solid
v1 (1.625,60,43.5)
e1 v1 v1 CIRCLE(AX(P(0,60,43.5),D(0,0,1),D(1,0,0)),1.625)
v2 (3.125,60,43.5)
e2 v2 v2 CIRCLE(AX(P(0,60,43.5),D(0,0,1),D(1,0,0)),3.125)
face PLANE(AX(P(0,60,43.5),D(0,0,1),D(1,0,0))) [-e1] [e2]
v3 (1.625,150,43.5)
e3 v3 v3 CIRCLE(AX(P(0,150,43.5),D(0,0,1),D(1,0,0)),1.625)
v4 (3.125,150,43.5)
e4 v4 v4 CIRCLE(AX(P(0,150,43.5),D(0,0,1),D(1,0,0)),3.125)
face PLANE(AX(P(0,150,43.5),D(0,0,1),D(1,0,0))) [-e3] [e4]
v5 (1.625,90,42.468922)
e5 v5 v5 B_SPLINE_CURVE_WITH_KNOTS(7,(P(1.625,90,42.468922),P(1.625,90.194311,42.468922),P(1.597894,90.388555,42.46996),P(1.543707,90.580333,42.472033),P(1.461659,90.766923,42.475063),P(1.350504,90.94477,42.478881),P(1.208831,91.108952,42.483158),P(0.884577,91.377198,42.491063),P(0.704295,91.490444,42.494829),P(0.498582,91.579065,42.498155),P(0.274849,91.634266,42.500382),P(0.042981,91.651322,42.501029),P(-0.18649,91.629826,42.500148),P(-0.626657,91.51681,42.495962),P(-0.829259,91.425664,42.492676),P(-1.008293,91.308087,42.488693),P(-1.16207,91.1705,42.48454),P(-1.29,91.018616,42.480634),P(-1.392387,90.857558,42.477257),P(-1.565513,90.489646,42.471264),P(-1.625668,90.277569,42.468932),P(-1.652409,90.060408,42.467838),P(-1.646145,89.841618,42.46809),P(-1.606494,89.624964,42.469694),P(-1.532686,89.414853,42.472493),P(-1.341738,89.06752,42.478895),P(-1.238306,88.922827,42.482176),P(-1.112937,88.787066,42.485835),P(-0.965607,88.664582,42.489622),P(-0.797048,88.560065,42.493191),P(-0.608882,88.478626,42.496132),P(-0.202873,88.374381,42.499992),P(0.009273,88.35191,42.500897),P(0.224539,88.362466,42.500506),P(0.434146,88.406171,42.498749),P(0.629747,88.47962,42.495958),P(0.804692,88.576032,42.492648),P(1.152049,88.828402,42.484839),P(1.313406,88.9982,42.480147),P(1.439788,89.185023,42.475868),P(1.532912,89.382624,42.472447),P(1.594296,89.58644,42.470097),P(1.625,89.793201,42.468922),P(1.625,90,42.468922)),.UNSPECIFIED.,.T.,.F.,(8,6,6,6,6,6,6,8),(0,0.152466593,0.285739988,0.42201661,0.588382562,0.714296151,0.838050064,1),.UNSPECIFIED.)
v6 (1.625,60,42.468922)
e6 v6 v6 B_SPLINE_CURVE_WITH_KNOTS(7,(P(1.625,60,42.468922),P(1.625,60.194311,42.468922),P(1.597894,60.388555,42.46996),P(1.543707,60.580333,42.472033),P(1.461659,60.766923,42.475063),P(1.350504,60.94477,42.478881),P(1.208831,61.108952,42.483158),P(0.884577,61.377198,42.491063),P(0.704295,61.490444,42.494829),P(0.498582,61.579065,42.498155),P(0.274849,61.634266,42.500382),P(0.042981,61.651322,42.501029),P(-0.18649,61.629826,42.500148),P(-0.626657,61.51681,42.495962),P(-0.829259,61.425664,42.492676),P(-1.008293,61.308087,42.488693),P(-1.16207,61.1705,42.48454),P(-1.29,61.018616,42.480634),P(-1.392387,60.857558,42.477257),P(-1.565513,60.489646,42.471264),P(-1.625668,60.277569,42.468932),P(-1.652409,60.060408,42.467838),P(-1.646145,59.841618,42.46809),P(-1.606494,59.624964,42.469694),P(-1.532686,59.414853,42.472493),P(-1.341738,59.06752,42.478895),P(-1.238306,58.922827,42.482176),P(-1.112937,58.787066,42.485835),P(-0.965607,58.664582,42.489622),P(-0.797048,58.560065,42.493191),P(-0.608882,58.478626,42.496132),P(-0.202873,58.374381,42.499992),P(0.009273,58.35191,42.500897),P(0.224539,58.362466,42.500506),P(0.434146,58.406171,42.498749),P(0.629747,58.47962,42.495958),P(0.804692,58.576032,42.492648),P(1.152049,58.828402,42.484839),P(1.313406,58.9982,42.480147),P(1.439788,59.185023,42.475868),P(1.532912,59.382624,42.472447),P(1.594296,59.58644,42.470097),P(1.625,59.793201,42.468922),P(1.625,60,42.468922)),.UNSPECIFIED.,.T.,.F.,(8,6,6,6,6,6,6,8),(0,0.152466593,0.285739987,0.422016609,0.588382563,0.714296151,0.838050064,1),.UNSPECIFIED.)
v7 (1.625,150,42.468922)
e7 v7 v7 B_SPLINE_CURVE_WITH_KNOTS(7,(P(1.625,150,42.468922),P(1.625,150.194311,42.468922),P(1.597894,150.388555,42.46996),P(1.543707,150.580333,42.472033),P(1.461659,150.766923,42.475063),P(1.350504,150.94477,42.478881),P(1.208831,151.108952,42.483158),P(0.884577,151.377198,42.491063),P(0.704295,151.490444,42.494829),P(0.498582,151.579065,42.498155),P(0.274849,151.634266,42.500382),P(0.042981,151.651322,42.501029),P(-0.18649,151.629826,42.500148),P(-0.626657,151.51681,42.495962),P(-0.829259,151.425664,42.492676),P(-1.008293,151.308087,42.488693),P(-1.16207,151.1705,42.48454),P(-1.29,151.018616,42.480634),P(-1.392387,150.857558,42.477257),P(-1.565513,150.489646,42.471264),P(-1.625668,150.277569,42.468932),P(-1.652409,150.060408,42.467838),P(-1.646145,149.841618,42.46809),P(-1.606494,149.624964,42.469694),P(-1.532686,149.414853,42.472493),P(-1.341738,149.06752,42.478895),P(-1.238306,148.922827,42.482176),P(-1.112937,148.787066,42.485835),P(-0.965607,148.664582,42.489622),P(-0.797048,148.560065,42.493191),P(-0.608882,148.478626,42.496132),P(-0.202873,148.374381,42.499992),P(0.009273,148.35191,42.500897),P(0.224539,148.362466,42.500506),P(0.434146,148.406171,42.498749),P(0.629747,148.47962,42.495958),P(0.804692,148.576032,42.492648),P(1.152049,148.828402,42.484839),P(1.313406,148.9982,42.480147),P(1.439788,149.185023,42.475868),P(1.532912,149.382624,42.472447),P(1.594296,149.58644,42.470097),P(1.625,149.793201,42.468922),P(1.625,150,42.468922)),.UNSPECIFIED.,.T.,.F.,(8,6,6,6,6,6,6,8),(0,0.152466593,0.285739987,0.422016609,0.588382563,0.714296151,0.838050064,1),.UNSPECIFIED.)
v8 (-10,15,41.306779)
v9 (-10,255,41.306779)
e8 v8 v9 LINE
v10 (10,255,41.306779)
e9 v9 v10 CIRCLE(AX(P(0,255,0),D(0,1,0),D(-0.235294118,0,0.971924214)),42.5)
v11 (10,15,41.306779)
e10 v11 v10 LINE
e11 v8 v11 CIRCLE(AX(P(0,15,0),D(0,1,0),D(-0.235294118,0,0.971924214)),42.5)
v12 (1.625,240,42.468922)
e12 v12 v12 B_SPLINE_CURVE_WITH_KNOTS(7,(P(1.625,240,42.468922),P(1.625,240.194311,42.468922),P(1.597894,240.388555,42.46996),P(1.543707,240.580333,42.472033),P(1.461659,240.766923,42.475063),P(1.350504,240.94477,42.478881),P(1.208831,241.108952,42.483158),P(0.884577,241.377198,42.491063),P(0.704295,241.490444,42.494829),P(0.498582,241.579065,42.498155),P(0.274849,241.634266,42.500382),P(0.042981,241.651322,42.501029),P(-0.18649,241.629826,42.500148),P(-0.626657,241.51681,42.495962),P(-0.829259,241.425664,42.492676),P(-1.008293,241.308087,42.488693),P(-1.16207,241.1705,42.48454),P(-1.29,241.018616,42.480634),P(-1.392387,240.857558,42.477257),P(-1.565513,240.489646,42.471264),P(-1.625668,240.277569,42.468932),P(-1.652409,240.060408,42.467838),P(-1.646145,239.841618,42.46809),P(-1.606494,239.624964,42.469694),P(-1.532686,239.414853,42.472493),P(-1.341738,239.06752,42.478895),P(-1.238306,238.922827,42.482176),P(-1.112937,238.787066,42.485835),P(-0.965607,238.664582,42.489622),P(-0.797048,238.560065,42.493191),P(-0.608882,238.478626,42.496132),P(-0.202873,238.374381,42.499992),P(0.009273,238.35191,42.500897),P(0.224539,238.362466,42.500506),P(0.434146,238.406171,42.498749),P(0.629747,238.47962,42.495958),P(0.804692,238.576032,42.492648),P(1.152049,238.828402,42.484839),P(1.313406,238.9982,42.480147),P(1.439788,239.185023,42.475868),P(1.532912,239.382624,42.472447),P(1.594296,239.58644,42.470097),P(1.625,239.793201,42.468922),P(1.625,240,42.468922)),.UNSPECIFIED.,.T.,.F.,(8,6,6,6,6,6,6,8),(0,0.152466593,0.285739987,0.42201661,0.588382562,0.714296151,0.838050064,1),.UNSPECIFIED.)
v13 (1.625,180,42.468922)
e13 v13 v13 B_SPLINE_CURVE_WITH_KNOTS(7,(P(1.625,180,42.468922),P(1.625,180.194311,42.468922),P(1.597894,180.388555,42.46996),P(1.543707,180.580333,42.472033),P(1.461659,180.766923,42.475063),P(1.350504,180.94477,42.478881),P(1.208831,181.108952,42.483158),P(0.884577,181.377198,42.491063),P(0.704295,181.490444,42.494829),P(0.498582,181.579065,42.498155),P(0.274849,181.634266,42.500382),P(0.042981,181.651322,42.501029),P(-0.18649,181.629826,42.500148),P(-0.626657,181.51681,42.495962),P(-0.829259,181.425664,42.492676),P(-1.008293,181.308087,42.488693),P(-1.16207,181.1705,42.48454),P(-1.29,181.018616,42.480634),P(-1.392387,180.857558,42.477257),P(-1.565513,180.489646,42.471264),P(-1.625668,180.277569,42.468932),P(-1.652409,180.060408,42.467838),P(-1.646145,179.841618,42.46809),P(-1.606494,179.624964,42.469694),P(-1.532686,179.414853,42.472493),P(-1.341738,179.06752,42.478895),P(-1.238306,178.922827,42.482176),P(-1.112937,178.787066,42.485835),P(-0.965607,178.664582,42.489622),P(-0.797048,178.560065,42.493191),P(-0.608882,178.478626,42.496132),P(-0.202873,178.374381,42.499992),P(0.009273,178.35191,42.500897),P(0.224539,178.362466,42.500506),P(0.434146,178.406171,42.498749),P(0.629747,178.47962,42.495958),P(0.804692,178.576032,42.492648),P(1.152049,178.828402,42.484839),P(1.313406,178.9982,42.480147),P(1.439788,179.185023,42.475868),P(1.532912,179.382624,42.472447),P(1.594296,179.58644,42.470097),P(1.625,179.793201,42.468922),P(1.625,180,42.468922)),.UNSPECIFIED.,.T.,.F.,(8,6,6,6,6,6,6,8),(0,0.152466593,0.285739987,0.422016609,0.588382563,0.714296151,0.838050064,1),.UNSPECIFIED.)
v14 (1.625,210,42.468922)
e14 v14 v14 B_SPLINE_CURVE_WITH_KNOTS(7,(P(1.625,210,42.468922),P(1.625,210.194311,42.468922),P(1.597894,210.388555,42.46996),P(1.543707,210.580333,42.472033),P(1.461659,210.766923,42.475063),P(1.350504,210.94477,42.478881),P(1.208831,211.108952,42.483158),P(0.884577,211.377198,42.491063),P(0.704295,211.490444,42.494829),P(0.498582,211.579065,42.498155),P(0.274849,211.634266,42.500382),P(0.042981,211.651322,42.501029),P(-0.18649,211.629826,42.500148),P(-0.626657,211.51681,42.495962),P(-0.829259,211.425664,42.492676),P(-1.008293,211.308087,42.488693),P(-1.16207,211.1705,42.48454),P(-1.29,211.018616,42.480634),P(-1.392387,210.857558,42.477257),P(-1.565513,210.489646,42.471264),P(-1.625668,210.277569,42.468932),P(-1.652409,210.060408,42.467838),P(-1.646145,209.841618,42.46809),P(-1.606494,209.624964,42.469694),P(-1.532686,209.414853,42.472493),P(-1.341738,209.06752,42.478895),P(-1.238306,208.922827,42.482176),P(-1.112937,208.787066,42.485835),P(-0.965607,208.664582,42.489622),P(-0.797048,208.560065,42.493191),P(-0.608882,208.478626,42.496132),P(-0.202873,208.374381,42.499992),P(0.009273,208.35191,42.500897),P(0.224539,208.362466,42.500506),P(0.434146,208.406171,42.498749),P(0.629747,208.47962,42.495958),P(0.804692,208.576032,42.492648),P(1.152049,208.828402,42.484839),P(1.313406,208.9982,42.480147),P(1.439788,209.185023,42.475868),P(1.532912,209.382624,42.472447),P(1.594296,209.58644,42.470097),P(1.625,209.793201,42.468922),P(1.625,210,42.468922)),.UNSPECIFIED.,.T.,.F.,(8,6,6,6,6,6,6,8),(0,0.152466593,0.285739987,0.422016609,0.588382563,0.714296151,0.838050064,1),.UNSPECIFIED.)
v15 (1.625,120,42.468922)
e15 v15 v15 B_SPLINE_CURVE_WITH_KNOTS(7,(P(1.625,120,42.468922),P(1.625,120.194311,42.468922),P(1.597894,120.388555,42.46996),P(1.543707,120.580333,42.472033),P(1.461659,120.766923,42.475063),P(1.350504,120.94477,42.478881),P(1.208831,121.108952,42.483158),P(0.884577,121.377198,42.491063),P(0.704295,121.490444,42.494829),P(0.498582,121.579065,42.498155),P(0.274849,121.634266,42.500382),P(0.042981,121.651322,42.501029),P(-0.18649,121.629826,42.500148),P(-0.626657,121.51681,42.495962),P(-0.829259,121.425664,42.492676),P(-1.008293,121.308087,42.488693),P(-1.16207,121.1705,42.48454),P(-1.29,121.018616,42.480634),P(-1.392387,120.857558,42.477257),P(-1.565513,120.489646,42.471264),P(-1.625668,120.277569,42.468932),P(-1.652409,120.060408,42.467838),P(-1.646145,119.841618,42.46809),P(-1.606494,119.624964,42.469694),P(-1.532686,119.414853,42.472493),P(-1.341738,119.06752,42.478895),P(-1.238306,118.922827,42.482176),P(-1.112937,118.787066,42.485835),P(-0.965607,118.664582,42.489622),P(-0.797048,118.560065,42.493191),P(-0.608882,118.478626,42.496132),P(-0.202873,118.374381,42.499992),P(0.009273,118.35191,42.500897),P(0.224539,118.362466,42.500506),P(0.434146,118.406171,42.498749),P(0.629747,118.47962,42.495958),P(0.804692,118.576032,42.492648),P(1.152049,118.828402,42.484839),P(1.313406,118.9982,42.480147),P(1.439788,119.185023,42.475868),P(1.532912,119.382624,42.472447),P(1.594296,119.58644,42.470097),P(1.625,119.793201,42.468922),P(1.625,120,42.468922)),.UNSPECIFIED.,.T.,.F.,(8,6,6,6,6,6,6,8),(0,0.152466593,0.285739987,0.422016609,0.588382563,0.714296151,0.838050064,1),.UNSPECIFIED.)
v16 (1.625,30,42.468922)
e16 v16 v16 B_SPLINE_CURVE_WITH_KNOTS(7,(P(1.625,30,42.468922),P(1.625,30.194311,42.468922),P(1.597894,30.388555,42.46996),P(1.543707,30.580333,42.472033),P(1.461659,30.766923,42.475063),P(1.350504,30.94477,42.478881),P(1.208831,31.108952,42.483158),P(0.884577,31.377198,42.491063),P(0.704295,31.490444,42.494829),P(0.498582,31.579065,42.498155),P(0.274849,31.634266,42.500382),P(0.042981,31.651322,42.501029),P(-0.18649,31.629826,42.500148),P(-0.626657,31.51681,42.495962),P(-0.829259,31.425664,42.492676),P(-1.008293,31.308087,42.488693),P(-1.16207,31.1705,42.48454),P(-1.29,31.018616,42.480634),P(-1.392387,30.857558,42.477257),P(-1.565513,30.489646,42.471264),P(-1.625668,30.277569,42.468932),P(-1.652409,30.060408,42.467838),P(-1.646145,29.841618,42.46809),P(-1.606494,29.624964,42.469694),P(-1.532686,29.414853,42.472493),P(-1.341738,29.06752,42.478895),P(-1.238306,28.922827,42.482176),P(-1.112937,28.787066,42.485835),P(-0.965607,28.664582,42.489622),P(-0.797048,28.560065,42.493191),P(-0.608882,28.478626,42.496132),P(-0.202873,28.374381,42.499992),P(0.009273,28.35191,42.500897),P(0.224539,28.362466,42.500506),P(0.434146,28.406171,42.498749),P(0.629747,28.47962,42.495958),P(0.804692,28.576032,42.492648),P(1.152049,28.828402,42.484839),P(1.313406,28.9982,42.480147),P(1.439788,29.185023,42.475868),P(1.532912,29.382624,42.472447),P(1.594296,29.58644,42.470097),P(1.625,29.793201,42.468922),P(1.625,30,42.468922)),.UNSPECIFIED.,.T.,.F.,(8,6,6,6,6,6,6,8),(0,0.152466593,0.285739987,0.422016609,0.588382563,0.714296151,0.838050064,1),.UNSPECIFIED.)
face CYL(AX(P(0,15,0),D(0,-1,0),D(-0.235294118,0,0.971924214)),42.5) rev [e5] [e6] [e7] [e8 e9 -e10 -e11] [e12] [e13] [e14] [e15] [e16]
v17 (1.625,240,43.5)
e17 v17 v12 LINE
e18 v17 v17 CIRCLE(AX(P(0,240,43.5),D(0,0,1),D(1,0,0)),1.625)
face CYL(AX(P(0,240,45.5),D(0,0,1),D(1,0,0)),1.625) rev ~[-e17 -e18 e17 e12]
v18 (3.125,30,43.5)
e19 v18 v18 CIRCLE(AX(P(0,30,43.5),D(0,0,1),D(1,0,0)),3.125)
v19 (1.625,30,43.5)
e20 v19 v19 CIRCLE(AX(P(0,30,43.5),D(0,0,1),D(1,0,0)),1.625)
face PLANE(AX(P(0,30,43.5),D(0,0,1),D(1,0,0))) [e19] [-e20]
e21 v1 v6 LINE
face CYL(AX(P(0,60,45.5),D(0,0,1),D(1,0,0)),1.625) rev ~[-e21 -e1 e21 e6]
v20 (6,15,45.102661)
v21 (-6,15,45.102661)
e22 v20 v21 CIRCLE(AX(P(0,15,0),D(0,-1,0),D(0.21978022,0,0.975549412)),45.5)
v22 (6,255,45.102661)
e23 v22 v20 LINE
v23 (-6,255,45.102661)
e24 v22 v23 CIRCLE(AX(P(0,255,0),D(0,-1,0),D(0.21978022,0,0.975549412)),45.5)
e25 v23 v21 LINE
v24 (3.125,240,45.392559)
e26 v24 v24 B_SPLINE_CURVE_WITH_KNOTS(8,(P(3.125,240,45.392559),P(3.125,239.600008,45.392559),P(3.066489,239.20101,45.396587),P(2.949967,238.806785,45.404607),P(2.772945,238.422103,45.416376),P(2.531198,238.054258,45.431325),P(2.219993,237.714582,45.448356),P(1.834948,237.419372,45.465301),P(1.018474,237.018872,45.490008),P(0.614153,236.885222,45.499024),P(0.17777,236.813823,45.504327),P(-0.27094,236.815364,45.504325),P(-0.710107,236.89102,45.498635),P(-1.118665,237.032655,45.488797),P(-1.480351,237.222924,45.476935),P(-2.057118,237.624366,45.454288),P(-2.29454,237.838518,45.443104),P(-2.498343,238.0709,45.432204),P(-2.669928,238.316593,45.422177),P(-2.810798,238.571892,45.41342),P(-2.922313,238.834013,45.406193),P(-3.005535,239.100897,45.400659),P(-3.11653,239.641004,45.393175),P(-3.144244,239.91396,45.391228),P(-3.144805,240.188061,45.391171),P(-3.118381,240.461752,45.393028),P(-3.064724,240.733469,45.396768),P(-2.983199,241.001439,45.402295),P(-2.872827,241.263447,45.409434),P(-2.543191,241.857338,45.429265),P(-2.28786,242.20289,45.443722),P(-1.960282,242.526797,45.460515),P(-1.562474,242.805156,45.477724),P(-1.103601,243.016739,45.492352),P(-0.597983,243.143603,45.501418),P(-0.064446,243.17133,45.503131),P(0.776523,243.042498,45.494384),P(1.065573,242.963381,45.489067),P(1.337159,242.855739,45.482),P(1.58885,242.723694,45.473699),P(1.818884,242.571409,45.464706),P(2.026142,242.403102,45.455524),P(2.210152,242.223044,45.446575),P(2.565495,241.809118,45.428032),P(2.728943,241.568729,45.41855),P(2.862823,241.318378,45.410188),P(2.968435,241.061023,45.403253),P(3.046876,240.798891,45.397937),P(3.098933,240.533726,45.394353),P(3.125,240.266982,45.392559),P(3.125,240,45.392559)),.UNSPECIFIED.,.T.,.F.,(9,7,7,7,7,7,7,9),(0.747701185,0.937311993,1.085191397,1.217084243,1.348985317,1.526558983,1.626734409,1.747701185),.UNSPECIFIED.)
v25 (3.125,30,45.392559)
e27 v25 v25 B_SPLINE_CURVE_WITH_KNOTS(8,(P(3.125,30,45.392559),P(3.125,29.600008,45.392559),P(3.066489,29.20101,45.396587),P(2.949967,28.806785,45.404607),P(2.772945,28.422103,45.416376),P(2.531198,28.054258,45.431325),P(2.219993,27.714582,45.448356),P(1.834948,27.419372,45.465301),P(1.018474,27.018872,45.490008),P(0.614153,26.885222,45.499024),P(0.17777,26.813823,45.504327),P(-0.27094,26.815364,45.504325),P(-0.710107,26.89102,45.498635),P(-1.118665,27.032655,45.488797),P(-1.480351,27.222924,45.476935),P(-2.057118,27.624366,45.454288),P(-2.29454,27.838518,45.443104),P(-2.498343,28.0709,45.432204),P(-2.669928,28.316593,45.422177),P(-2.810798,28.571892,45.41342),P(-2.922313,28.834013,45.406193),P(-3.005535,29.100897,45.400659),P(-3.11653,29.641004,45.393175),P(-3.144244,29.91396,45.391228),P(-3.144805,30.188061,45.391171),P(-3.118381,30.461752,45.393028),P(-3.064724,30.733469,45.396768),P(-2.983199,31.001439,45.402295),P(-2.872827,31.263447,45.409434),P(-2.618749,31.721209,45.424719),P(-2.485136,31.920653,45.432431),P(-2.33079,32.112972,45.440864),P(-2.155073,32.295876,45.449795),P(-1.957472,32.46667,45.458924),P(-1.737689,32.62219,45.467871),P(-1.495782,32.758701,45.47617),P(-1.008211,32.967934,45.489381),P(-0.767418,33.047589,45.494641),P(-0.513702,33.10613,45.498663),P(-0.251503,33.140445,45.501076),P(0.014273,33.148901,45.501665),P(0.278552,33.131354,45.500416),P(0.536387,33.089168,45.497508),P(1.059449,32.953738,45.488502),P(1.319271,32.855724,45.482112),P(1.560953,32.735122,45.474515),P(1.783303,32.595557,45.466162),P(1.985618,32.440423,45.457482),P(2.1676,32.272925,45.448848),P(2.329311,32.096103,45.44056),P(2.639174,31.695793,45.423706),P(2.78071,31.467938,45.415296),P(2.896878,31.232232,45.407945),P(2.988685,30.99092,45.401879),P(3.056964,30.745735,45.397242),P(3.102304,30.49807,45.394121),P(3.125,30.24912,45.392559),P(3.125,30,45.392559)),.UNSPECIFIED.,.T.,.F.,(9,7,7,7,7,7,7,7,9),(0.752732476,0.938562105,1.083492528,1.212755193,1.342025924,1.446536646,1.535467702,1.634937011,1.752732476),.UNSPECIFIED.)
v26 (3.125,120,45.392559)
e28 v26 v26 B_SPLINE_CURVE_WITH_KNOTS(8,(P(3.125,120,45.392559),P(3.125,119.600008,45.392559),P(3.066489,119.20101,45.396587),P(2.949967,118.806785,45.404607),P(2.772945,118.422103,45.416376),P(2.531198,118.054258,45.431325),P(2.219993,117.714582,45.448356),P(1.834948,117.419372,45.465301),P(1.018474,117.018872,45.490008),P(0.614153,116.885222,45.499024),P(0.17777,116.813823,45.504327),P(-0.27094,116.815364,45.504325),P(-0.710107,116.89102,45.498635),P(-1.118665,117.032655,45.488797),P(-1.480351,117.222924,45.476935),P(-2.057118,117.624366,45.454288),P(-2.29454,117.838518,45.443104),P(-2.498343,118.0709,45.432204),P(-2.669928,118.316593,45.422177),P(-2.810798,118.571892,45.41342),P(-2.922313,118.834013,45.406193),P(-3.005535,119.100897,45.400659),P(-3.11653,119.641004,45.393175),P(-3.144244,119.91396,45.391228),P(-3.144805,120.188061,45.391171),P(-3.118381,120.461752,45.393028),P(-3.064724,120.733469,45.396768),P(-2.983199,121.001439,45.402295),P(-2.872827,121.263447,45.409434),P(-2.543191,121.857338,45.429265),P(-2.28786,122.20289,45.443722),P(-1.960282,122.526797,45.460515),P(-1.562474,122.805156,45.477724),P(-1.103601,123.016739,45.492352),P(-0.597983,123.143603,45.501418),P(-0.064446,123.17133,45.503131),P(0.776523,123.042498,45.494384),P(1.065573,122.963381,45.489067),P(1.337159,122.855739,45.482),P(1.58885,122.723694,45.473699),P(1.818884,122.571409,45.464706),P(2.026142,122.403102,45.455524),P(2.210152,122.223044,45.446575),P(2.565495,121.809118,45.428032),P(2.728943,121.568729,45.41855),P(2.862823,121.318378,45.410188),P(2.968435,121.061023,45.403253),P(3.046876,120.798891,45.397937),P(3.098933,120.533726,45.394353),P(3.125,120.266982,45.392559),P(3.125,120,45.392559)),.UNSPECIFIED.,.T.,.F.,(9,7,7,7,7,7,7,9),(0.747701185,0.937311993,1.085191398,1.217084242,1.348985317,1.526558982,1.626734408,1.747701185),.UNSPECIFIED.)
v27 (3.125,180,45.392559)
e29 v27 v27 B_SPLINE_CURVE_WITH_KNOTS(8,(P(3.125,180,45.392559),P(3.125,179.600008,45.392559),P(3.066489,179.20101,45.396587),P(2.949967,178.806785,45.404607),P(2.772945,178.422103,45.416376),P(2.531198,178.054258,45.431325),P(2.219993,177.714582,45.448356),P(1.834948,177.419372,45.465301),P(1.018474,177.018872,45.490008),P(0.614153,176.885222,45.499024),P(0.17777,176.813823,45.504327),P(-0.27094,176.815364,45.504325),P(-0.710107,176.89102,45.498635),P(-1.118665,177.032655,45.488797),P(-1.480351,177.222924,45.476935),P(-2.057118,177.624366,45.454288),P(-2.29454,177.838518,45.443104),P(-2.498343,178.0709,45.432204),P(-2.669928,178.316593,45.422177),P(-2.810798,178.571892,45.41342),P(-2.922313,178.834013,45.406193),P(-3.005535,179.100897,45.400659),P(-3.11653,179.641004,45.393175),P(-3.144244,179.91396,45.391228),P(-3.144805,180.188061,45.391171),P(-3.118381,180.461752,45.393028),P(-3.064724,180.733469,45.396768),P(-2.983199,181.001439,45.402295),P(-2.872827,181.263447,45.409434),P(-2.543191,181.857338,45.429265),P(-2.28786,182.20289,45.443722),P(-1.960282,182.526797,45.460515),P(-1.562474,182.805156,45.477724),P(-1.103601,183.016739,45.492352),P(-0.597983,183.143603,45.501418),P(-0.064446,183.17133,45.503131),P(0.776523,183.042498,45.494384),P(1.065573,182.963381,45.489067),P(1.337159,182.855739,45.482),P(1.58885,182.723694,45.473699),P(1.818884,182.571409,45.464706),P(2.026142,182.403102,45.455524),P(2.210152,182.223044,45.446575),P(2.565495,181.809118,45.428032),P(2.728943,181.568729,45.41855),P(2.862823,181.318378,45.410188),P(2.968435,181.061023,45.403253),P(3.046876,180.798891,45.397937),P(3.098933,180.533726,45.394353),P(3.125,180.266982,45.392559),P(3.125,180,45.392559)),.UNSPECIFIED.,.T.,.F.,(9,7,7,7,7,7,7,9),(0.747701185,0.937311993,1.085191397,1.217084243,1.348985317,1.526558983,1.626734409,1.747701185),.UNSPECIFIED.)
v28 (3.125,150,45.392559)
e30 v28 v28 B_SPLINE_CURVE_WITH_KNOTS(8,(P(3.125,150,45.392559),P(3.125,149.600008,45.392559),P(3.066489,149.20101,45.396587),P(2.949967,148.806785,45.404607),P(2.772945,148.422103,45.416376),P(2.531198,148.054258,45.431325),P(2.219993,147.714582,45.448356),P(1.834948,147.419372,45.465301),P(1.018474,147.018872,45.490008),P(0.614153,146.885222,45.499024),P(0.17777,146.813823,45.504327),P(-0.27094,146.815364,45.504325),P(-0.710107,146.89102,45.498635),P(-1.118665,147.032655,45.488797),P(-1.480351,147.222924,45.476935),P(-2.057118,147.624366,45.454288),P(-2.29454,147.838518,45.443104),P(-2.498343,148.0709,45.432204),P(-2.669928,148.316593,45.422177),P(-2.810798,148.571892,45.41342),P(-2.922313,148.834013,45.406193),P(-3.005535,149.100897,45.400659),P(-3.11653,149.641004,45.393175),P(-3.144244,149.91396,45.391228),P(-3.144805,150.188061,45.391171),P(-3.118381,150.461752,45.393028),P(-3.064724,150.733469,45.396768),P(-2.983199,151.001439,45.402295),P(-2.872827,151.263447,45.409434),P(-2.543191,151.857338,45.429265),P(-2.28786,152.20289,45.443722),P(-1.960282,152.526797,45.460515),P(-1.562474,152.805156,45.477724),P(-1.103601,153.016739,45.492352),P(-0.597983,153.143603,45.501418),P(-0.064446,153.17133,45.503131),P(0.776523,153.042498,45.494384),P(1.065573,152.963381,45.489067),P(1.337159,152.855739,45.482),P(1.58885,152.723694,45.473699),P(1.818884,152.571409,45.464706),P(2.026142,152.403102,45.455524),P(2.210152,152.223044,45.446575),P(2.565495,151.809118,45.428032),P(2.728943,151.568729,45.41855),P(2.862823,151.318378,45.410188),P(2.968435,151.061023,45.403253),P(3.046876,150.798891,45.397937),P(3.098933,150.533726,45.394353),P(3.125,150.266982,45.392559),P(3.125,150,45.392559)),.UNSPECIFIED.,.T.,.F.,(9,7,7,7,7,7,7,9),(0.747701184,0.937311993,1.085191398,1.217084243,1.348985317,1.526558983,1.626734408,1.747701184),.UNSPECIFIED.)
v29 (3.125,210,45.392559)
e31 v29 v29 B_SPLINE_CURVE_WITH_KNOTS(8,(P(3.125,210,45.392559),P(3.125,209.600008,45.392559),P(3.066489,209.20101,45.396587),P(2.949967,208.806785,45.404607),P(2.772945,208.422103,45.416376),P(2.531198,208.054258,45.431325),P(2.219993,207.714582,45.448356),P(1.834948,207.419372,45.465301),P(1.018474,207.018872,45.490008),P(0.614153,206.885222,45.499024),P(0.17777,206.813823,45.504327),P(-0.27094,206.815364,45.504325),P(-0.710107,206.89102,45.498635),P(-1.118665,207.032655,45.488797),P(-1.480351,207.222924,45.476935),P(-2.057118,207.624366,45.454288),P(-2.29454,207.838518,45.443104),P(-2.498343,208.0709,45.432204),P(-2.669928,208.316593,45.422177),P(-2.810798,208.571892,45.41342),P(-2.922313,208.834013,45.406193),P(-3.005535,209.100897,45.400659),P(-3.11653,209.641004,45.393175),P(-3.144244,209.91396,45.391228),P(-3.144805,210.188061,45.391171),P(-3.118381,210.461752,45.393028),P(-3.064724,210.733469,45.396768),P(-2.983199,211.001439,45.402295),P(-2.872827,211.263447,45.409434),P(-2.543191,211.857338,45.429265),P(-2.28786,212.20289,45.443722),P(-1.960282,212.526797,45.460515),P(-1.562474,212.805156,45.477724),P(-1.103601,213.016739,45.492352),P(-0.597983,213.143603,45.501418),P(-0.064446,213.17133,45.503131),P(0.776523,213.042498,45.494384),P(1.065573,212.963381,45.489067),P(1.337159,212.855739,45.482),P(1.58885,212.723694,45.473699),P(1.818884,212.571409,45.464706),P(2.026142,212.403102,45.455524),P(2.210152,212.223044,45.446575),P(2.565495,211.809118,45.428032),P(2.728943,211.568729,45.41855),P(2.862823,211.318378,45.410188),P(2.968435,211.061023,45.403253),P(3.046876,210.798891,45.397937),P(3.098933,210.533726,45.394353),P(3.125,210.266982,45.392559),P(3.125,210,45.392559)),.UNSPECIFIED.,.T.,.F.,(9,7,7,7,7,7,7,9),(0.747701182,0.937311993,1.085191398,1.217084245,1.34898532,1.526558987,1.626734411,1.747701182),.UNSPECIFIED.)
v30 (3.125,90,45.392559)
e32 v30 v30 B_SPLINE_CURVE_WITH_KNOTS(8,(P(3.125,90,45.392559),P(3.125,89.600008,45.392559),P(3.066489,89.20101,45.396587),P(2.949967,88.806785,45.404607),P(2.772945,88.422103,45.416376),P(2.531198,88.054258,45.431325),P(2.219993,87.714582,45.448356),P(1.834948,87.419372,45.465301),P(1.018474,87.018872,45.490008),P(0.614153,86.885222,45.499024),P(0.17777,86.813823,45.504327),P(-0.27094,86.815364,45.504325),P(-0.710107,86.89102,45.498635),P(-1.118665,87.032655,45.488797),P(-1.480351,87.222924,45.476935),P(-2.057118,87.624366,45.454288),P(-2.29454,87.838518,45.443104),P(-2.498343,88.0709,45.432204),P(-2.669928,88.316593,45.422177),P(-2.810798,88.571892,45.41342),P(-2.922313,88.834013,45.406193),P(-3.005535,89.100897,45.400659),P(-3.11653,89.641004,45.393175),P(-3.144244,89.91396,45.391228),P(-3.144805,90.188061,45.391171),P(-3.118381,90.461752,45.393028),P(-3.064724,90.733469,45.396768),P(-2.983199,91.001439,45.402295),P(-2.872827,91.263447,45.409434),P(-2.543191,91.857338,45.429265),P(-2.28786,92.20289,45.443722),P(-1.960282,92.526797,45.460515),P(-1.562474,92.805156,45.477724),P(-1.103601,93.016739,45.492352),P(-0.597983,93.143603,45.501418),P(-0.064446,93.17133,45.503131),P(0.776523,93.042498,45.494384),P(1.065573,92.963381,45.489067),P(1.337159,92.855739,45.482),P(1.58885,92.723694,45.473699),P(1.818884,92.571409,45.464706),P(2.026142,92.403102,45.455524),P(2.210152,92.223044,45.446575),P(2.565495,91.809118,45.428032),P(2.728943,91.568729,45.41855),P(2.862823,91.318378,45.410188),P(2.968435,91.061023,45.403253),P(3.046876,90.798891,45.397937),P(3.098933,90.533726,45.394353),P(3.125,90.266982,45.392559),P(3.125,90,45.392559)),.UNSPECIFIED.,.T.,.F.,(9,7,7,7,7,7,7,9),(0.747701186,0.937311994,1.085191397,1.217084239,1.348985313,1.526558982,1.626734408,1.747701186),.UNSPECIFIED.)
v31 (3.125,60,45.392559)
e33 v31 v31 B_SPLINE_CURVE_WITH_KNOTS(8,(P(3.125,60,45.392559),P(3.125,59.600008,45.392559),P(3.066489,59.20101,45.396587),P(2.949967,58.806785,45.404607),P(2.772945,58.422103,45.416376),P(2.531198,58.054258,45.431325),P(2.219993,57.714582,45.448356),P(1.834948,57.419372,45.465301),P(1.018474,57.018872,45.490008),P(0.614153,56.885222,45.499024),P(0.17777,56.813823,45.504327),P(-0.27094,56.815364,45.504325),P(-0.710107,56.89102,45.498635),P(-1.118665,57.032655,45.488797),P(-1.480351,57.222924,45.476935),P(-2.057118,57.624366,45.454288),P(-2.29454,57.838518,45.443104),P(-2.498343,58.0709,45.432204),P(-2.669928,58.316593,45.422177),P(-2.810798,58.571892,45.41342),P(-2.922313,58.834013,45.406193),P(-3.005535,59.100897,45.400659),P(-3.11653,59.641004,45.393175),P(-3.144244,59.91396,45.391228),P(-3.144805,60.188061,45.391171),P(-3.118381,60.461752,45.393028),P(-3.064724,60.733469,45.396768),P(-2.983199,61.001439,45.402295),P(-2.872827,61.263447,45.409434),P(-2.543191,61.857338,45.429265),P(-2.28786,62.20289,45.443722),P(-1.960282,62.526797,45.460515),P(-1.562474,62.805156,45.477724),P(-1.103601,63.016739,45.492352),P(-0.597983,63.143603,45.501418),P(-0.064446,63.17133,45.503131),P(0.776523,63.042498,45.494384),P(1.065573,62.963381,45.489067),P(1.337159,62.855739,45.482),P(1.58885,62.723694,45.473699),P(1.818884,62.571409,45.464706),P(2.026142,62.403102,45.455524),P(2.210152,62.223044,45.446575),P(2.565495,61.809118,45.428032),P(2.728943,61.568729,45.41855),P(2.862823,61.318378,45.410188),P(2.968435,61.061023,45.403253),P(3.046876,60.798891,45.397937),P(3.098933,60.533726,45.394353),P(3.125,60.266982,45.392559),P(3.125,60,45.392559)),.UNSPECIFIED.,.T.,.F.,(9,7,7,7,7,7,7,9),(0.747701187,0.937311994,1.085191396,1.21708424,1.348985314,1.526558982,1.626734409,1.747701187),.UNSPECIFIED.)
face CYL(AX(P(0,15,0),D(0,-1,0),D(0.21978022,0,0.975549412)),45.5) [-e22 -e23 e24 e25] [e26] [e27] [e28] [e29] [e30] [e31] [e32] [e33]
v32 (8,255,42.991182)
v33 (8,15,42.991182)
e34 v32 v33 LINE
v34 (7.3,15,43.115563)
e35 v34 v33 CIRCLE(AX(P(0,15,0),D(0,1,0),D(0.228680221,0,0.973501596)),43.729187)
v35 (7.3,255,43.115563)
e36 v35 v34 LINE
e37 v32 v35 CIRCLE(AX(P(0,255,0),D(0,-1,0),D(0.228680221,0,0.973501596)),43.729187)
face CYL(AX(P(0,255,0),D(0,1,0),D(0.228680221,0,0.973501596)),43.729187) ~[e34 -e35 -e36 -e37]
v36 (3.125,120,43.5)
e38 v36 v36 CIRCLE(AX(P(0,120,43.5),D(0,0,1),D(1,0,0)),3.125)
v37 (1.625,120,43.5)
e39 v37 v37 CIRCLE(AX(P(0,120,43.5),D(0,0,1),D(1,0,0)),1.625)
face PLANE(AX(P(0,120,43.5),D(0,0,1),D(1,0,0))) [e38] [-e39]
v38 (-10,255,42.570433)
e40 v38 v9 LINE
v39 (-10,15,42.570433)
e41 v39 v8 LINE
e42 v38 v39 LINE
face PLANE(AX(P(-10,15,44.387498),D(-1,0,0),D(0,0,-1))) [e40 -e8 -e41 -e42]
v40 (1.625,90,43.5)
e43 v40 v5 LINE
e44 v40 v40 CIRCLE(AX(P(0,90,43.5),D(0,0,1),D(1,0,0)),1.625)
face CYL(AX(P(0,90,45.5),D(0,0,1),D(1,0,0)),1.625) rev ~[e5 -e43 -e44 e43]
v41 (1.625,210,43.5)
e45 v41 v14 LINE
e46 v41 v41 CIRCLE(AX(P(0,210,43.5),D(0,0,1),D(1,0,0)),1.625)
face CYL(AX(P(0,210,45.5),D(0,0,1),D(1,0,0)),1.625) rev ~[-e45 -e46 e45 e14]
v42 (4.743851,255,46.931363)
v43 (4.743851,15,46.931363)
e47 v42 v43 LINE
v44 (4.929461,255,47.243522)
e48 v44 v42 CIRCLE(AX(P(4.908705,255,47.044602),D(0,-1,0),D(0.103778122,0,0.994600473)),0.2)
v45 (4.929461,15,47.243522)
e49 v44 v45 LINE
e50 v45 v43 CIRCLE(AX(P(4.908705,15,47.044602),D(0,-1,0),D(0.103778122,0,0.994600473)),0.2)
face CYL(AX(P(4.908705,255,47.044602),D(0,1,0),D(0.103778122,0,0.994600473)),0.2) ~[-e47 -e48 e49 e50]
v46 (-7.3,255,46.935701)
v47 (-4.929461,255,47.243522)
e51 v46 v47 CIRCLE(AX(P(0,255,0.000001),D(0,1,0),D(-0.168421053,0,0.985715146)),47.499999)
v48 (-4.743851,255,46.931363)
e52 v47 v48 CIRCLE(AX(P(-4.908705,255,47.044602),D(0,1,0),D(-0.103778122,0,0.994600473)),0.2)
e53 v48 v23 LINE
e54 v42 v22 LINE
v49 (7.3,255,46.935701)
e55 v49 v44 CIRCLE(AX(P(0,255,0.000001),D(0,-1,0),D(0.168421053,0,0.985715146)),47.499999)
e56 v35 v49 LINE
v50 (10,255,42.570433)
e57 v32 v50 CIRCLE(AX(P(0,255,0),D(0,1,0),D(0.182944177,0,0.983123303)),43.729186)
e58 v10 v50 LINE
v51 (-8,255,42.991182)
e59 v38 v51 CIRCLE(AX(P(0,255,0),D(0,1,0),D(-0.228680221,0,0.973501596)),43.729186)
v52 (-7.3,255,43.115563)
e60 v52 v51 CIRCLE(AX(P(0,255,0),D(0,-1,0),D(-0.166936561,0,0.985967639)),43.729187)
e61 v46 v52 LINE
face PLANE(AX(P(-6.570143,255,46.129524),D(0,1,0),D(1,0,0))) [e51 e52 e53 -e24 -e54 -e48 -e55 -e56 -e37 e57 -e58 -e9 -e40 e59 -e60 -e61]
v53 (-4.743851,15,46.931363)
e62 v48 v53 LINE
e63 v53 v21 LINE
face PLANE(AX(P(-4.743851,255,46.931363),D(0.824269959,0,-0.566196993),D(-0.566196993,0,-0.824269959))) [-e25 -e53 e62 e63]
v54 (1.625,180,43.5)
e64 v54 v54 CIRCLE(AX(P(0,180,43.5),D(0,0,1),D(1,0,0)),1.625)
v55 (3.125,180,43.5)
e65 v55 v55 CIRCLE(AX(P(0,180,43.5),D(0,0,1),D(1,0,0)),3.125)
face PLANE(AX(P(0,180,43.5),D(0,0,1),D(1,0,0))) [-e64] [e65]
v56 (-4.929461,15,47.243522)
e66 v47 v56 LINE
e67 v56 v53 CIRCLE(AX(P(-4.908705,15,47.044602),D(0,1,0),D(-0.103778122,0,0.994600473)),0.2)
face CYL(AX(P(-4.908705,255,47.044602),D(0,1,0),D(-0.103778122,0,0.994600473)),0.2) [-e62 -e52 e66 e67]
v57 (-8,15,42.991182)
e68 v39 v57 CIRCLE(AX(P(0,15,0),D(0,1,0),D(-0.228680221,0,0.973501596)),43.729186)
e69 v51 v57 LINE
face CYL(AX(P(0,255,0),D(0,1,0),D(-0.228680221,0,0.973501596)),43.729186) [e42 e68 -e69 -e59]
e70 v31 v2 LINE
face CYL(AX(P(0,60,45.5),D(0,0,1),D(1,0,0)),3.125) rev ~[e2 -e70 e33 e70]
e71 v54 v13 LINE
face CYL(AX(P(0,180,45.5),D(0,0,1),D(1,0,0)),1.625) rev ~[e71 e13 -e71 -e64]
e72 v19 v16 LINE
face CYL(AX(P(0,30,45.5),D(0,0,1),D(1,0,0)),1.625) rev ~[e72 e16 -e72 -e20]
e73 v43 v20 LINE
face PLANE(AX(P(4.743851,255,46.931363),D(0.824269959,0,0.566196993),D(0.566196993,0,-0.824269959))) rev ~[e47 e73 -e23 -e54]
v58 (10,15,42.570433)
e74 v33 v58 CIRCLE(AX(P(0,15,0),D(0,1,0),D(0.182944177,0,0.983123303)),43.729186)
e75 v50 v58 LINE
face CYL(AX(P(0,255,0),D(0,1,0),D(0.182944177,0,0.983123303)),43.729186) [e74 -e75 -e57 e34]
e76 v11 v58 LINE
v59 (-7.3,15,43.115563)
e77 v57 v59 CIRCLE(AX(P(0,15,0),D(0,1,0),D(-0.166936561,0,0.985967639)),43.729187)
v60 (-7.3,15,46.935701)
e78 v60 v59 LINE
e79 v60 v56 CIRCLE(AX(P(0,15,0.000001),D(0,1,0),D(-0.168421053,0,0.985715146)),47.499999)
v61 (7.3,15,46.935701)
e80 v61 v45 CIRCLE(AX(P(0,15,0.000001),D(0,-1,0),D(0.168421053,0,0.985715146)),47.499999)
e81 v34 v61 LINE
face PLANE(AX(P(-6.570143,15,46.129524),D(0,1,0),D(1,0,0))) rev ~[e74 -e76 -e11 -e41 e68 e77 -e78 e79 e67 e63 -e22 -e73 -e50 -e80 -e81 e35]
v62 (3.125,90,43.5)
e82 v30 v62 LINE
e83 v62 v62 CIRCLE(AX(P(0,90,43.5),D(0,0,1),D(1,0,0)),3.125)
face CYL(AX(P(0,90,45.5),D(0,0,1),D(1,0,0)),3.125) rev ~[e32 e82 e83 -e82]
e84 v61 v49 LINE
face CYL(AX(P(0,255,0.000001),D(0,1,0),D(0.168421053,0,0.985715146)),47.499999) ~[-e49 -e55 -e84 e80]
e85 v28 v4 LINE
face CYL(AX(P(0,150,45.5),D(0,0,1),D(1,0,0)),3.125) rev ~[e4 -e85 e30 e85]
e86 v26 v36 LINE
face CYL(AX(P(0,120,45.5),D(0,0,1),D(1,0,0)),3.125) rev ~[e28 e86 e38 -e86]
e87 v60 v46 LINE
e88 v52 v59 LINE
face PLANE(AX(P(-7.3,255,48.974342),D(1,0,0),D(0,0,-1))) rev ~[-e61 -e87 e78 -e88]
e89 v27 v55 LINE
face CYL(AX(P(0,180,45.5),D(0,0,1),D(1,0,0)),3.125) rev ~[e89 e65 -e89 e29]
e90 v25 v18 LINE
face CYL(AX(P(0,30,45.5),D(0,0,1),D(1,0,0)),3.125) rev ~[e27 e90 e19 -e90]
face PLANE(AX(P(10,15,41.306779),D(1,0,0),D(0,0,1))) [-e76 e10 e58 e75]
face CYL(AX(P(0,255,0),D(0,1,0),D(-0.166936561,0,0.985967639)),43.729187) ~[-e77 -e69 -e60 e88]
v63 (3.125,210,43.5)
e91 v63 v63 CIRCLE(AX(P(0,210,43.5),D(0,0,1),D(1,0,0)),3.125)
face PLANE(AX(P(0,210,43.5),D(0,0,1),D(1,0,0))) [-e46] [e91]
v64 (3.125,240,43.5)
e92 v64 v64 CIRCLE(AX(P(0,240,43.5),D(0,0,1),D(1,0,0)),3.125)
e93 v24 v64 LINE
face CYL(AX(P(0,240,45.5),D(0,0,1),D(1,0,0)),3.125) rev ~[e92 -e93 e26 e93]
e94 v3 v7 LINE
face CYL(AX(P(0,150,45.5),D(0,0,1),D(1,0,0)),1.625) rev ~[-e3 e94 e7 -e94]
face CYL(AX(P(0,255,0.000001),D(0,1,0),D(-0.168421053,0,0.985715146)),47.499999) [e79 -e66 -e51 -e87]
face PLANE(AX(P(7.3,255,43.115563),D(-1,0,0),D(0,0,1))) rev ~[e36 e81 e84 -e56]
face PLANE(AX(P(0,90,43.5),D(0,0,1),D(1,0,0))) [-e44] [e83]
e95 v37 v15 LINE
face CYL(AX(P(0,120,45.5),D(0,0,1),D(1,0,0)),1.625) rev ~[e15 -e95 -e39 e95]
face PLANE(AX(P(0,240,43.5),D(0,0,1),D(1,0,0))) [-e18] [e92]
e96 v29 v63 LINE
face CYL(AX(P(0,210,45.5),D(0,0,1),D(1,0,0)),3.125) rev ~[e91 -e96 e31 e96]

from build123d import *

# Parameters (mm, degrees)
BOSS_EXTRUDE1_DEPTH = 240
CUT_EXTRUDE3_DEPTH  = 245.479549247
BOSS_EXTRUDE2_DEPTH = 240
SKETCH3_R           = 1.625
CUT_EXTRUDE4_DEPTH  = 270
SKETCH3_5_R         = 3.125
SKETCH3_5_R_2       = 1.625
CUT_EXTRUDE5_DEPTH  = 2
CUT_EXTRUDE6_DEPTH  = 245.810237745


with BuildPart() as part:
    # Sketch2 → Boss-Extrude1 (new body)
    with BuildSketch(Plane(origin=(0, 15, 0), x_dir=(1, 0, 0), z_dir=(0, 1, 0))):
        with BuildLine():
            Line((-10, -44.38749824), (-10, -41.306779105))
            ThreePointArc((-10, -41.306779105), (0, -42.5), (10, -41.306779105))
            Line((10, -41.306779105), (10, -44.38749824))
            ThreePointArc((10, -44.38749824), (0, -45.5), (-10, -44.38749824))
        make_face()
    extrude(amount=BOSS_EXTRUDE1_DEPTH)

    # Sketch5 → Cut-Extrude3 (cut, through all)
    with BuildSketch(Plane(origin=(0, 255, 0), x_dir=(1, 0, 0), z_dir=(0, 1, 0))):
        with BuildLine():
            Line((-8, -42.991182168), (-8, -44.791182168))
            ThreePointArc((-8, -44.791182168), (-9.002263059, -44.600552237), (-10, -44.38749824))
            Line((-10, -44.38749824), (-10, -42.570432746))
            ThreePointArc((-10, -42.570432746), (-9.002458415, -42.792493345), (-8, -42.991182168))
        make_face()
        with BuildLine():
            Line((8, -44.791182168), (8, -42.991182168))
            ThreePointArc((8, -42.991182168), (9.002458415, -42.792493345), (10, -42.570432746))
            Line((10, -42.570432746), (10, -44.38749824))
            ThreePointArc((10, -44.38749824), (9.002263059, -44.600552237), (8, -44.791182168))
        make_face()
    extrude(amount=-CUT_EXTRUDE3_DEPTH, mode=Mode.SUBTRACT)

    # Sketch6 → Boss-Extrude2 (add, through all)
    with BuildSketch(Plane(origin=(0, 255, 0), x_dir=(1, 0, 0), z_dir=(0, 1, 0))):
        with BuildLine():
            Line((-8, -44.791182168), (-8, -46.821469434))
            ThreePointArc((-8, -46.821469434), (-6.468173714, -47.057546991), (-4.929460777, -47.243522481))
            ThreePointArc((-4.929460777, -47.243522481), (-4.736798282, -47.146817981), (-4.743851161, -46.931362988))
            Line((-4.743851161, -46.931362988), (-6, -45.102660675))
            ThreePointArc((-6, -45.102660675), (-7.001732265, -44.958044278), (-8, -44.791182168))
        make_face()
        with BuildLine():
            Line((8, -44.791182168), (8, -46.821469434))
            ThreePointArc((8, -46.821469434), (6.468173714, -47.057546991), (4.929460777, -47.243522481))
            ThreePointArc((4.929460777, -47.243522481), (4.736798282, -47.146817981), (4.743851161, -46.931362988))
            Line((4.743851161, -46.931362988), (6, -45.102660675))
            ThreePointArc((6, -45.102660675), (7.001732265, -44.958044278), (8, -44.791182168))
        make_face()
    extrude(amount=-BOSS_EXTRUDE2_DEPTH)

    # Sketch3 → Cut-Extrude4 (cut)
    with BuildSketch(Plane.XY.offset(45.5)):
        with Locations((0, 30)):
            Circle(SKETCH3_R)
        with Locations((0, 60)):
            Circle(SKETCH3_R)
        with Locations((0, 90)):
            Circle(SKETCH3_R)
        with Locations((0, 120)):
            Circle(SKETCH3_R)
        with Locations((0, 150)):
            Circle(SKETCH3_R)
        with Locations((0, 180)):
            Circle(SKETCH3_R)
        with Locations((0, 210)):
            Circle(SKETCH3_R)
        with Locations((0, 240)):
            Circle(SKETCH3_R)
    extrude(amount=-CUT_EXTRUDE4_DEPTH, mode=Mode.SUBTRACT)

    # Sketch3<5> → Cut-Extrude5 (cut)
    # profile 1 of 8: a face of its own
    with BuildSketch(Plane.XY.offset(45.5)):
        with Locations((0, 30)):
            Circle(SKETCH3_5_R)
        with Locations((0, 30)):
            Circle(SKETCH3_5_R_2, mode=Mode.SUBTRACT)
    # profile 2 of 8: a face of its own
    with BuildSketch(Plane.XY.offset(45.5)):
        with Locations((0, 60)):
            Circle(SKETCH3_5_R)
        with Locations((0, 60)):
            Circle(SKETCH3_5_R_2, mode=Mode.SUBTRACT)
    # profile 3 of 8: a face of its own
    with BuildSketch(Plane.XY.offset(45.5)):
        with Locations((0, 90)):
            Circle(SKETCH3_5_R)
        with Locations((0, 90)):
            Circle(SKETCH3_5_R_2, mode=Mode.SUBTRACT)
    # profile 4 of 8: a face of its own
    with BuildSketch(Plane.XY.offset(45.5)):
        with Locations((0, 120)):
            Circle(SKETCH3_5_R)
        with Locations((0, 120)):
            Circle(SKETCH3_5_R_2, mode=Mode.SUBTRACT)
    # profile 5 of 8: a face of its own
    with BuildSketch(Plane.XY.offset(45.5)):
        with Locations((0, 150)):
            Circle(SKETCH3_5_R)
        with Locations((0, 150)):
            Circle(SKETCH3_5_R_2, mode=Mode.SUBTRACT)
    # profile 6 of 8: a face of its own
    with BuildSketch(Plane.XY.offset(45.5)):
        with Locations((0, 180)):
            Circle(SKETCH3_5_R)
        with Locations((0, 180)):
            Circle(SKETCH3_5_R_2, mode=Mode.SUBTRACT)
    # profile 7 of 8: a face of its own
    with BuildSketch(Plane.XY.offset(45.5)):
        with Locations((0, 210)):
            Circle(SKETCH3_5_R)
        with Locations((0, 210)):
            Circle(SKETCH3_5_R_2, mode=Mode.SUBTRACT)
    # profile 8 of 8: a face of its own
    with BuildSketch(Plane.XY.offset(45.5)):
        with Locations((0, 240)):
            Circle(SKETCH3_5_R)
        with Locations((0, 240)):
            Circle(SKETCH3_5_R_2, mode=Mode.SUBTRACT)
    extrude(amount=-CUT_EXTRUDE5_DEPTH, mode=Mode.SUBTRACT)

    # Sketch8 → Cut-Extrude6 (cut, through all)
    with BuildSketch(Plane(origin=(0, 255, 0), x_dir=(1, 0, 0), z_dir=(0, 1, 0))):
        with BuildLine():
            Line((-7.3, -48.974342188), (-7.3, -43.115562668))
            ThreePointArc((-7.3, -43.115562668), (-8.65429325, -42.86426195), (-10, -42.570432746))
            Line((-10, -42.570432746), (-7.3, -48.974342188))
        make_face()
        with BuildLine():
            Line((7.3, -43.115562668), (7.3, -48.974342188))
            Line((7.3, -48.974342188), (10, -42.570432746))
            ThreePointArc((10, -42.570432746), (8.65429325, -42.86426195), (7.3, -43.115562668))
        make_face()
    extrude(amount=-CUT_EXTRUDE6_DEPTH, mode=Mode.SUBTRACT)


solid = part.part
